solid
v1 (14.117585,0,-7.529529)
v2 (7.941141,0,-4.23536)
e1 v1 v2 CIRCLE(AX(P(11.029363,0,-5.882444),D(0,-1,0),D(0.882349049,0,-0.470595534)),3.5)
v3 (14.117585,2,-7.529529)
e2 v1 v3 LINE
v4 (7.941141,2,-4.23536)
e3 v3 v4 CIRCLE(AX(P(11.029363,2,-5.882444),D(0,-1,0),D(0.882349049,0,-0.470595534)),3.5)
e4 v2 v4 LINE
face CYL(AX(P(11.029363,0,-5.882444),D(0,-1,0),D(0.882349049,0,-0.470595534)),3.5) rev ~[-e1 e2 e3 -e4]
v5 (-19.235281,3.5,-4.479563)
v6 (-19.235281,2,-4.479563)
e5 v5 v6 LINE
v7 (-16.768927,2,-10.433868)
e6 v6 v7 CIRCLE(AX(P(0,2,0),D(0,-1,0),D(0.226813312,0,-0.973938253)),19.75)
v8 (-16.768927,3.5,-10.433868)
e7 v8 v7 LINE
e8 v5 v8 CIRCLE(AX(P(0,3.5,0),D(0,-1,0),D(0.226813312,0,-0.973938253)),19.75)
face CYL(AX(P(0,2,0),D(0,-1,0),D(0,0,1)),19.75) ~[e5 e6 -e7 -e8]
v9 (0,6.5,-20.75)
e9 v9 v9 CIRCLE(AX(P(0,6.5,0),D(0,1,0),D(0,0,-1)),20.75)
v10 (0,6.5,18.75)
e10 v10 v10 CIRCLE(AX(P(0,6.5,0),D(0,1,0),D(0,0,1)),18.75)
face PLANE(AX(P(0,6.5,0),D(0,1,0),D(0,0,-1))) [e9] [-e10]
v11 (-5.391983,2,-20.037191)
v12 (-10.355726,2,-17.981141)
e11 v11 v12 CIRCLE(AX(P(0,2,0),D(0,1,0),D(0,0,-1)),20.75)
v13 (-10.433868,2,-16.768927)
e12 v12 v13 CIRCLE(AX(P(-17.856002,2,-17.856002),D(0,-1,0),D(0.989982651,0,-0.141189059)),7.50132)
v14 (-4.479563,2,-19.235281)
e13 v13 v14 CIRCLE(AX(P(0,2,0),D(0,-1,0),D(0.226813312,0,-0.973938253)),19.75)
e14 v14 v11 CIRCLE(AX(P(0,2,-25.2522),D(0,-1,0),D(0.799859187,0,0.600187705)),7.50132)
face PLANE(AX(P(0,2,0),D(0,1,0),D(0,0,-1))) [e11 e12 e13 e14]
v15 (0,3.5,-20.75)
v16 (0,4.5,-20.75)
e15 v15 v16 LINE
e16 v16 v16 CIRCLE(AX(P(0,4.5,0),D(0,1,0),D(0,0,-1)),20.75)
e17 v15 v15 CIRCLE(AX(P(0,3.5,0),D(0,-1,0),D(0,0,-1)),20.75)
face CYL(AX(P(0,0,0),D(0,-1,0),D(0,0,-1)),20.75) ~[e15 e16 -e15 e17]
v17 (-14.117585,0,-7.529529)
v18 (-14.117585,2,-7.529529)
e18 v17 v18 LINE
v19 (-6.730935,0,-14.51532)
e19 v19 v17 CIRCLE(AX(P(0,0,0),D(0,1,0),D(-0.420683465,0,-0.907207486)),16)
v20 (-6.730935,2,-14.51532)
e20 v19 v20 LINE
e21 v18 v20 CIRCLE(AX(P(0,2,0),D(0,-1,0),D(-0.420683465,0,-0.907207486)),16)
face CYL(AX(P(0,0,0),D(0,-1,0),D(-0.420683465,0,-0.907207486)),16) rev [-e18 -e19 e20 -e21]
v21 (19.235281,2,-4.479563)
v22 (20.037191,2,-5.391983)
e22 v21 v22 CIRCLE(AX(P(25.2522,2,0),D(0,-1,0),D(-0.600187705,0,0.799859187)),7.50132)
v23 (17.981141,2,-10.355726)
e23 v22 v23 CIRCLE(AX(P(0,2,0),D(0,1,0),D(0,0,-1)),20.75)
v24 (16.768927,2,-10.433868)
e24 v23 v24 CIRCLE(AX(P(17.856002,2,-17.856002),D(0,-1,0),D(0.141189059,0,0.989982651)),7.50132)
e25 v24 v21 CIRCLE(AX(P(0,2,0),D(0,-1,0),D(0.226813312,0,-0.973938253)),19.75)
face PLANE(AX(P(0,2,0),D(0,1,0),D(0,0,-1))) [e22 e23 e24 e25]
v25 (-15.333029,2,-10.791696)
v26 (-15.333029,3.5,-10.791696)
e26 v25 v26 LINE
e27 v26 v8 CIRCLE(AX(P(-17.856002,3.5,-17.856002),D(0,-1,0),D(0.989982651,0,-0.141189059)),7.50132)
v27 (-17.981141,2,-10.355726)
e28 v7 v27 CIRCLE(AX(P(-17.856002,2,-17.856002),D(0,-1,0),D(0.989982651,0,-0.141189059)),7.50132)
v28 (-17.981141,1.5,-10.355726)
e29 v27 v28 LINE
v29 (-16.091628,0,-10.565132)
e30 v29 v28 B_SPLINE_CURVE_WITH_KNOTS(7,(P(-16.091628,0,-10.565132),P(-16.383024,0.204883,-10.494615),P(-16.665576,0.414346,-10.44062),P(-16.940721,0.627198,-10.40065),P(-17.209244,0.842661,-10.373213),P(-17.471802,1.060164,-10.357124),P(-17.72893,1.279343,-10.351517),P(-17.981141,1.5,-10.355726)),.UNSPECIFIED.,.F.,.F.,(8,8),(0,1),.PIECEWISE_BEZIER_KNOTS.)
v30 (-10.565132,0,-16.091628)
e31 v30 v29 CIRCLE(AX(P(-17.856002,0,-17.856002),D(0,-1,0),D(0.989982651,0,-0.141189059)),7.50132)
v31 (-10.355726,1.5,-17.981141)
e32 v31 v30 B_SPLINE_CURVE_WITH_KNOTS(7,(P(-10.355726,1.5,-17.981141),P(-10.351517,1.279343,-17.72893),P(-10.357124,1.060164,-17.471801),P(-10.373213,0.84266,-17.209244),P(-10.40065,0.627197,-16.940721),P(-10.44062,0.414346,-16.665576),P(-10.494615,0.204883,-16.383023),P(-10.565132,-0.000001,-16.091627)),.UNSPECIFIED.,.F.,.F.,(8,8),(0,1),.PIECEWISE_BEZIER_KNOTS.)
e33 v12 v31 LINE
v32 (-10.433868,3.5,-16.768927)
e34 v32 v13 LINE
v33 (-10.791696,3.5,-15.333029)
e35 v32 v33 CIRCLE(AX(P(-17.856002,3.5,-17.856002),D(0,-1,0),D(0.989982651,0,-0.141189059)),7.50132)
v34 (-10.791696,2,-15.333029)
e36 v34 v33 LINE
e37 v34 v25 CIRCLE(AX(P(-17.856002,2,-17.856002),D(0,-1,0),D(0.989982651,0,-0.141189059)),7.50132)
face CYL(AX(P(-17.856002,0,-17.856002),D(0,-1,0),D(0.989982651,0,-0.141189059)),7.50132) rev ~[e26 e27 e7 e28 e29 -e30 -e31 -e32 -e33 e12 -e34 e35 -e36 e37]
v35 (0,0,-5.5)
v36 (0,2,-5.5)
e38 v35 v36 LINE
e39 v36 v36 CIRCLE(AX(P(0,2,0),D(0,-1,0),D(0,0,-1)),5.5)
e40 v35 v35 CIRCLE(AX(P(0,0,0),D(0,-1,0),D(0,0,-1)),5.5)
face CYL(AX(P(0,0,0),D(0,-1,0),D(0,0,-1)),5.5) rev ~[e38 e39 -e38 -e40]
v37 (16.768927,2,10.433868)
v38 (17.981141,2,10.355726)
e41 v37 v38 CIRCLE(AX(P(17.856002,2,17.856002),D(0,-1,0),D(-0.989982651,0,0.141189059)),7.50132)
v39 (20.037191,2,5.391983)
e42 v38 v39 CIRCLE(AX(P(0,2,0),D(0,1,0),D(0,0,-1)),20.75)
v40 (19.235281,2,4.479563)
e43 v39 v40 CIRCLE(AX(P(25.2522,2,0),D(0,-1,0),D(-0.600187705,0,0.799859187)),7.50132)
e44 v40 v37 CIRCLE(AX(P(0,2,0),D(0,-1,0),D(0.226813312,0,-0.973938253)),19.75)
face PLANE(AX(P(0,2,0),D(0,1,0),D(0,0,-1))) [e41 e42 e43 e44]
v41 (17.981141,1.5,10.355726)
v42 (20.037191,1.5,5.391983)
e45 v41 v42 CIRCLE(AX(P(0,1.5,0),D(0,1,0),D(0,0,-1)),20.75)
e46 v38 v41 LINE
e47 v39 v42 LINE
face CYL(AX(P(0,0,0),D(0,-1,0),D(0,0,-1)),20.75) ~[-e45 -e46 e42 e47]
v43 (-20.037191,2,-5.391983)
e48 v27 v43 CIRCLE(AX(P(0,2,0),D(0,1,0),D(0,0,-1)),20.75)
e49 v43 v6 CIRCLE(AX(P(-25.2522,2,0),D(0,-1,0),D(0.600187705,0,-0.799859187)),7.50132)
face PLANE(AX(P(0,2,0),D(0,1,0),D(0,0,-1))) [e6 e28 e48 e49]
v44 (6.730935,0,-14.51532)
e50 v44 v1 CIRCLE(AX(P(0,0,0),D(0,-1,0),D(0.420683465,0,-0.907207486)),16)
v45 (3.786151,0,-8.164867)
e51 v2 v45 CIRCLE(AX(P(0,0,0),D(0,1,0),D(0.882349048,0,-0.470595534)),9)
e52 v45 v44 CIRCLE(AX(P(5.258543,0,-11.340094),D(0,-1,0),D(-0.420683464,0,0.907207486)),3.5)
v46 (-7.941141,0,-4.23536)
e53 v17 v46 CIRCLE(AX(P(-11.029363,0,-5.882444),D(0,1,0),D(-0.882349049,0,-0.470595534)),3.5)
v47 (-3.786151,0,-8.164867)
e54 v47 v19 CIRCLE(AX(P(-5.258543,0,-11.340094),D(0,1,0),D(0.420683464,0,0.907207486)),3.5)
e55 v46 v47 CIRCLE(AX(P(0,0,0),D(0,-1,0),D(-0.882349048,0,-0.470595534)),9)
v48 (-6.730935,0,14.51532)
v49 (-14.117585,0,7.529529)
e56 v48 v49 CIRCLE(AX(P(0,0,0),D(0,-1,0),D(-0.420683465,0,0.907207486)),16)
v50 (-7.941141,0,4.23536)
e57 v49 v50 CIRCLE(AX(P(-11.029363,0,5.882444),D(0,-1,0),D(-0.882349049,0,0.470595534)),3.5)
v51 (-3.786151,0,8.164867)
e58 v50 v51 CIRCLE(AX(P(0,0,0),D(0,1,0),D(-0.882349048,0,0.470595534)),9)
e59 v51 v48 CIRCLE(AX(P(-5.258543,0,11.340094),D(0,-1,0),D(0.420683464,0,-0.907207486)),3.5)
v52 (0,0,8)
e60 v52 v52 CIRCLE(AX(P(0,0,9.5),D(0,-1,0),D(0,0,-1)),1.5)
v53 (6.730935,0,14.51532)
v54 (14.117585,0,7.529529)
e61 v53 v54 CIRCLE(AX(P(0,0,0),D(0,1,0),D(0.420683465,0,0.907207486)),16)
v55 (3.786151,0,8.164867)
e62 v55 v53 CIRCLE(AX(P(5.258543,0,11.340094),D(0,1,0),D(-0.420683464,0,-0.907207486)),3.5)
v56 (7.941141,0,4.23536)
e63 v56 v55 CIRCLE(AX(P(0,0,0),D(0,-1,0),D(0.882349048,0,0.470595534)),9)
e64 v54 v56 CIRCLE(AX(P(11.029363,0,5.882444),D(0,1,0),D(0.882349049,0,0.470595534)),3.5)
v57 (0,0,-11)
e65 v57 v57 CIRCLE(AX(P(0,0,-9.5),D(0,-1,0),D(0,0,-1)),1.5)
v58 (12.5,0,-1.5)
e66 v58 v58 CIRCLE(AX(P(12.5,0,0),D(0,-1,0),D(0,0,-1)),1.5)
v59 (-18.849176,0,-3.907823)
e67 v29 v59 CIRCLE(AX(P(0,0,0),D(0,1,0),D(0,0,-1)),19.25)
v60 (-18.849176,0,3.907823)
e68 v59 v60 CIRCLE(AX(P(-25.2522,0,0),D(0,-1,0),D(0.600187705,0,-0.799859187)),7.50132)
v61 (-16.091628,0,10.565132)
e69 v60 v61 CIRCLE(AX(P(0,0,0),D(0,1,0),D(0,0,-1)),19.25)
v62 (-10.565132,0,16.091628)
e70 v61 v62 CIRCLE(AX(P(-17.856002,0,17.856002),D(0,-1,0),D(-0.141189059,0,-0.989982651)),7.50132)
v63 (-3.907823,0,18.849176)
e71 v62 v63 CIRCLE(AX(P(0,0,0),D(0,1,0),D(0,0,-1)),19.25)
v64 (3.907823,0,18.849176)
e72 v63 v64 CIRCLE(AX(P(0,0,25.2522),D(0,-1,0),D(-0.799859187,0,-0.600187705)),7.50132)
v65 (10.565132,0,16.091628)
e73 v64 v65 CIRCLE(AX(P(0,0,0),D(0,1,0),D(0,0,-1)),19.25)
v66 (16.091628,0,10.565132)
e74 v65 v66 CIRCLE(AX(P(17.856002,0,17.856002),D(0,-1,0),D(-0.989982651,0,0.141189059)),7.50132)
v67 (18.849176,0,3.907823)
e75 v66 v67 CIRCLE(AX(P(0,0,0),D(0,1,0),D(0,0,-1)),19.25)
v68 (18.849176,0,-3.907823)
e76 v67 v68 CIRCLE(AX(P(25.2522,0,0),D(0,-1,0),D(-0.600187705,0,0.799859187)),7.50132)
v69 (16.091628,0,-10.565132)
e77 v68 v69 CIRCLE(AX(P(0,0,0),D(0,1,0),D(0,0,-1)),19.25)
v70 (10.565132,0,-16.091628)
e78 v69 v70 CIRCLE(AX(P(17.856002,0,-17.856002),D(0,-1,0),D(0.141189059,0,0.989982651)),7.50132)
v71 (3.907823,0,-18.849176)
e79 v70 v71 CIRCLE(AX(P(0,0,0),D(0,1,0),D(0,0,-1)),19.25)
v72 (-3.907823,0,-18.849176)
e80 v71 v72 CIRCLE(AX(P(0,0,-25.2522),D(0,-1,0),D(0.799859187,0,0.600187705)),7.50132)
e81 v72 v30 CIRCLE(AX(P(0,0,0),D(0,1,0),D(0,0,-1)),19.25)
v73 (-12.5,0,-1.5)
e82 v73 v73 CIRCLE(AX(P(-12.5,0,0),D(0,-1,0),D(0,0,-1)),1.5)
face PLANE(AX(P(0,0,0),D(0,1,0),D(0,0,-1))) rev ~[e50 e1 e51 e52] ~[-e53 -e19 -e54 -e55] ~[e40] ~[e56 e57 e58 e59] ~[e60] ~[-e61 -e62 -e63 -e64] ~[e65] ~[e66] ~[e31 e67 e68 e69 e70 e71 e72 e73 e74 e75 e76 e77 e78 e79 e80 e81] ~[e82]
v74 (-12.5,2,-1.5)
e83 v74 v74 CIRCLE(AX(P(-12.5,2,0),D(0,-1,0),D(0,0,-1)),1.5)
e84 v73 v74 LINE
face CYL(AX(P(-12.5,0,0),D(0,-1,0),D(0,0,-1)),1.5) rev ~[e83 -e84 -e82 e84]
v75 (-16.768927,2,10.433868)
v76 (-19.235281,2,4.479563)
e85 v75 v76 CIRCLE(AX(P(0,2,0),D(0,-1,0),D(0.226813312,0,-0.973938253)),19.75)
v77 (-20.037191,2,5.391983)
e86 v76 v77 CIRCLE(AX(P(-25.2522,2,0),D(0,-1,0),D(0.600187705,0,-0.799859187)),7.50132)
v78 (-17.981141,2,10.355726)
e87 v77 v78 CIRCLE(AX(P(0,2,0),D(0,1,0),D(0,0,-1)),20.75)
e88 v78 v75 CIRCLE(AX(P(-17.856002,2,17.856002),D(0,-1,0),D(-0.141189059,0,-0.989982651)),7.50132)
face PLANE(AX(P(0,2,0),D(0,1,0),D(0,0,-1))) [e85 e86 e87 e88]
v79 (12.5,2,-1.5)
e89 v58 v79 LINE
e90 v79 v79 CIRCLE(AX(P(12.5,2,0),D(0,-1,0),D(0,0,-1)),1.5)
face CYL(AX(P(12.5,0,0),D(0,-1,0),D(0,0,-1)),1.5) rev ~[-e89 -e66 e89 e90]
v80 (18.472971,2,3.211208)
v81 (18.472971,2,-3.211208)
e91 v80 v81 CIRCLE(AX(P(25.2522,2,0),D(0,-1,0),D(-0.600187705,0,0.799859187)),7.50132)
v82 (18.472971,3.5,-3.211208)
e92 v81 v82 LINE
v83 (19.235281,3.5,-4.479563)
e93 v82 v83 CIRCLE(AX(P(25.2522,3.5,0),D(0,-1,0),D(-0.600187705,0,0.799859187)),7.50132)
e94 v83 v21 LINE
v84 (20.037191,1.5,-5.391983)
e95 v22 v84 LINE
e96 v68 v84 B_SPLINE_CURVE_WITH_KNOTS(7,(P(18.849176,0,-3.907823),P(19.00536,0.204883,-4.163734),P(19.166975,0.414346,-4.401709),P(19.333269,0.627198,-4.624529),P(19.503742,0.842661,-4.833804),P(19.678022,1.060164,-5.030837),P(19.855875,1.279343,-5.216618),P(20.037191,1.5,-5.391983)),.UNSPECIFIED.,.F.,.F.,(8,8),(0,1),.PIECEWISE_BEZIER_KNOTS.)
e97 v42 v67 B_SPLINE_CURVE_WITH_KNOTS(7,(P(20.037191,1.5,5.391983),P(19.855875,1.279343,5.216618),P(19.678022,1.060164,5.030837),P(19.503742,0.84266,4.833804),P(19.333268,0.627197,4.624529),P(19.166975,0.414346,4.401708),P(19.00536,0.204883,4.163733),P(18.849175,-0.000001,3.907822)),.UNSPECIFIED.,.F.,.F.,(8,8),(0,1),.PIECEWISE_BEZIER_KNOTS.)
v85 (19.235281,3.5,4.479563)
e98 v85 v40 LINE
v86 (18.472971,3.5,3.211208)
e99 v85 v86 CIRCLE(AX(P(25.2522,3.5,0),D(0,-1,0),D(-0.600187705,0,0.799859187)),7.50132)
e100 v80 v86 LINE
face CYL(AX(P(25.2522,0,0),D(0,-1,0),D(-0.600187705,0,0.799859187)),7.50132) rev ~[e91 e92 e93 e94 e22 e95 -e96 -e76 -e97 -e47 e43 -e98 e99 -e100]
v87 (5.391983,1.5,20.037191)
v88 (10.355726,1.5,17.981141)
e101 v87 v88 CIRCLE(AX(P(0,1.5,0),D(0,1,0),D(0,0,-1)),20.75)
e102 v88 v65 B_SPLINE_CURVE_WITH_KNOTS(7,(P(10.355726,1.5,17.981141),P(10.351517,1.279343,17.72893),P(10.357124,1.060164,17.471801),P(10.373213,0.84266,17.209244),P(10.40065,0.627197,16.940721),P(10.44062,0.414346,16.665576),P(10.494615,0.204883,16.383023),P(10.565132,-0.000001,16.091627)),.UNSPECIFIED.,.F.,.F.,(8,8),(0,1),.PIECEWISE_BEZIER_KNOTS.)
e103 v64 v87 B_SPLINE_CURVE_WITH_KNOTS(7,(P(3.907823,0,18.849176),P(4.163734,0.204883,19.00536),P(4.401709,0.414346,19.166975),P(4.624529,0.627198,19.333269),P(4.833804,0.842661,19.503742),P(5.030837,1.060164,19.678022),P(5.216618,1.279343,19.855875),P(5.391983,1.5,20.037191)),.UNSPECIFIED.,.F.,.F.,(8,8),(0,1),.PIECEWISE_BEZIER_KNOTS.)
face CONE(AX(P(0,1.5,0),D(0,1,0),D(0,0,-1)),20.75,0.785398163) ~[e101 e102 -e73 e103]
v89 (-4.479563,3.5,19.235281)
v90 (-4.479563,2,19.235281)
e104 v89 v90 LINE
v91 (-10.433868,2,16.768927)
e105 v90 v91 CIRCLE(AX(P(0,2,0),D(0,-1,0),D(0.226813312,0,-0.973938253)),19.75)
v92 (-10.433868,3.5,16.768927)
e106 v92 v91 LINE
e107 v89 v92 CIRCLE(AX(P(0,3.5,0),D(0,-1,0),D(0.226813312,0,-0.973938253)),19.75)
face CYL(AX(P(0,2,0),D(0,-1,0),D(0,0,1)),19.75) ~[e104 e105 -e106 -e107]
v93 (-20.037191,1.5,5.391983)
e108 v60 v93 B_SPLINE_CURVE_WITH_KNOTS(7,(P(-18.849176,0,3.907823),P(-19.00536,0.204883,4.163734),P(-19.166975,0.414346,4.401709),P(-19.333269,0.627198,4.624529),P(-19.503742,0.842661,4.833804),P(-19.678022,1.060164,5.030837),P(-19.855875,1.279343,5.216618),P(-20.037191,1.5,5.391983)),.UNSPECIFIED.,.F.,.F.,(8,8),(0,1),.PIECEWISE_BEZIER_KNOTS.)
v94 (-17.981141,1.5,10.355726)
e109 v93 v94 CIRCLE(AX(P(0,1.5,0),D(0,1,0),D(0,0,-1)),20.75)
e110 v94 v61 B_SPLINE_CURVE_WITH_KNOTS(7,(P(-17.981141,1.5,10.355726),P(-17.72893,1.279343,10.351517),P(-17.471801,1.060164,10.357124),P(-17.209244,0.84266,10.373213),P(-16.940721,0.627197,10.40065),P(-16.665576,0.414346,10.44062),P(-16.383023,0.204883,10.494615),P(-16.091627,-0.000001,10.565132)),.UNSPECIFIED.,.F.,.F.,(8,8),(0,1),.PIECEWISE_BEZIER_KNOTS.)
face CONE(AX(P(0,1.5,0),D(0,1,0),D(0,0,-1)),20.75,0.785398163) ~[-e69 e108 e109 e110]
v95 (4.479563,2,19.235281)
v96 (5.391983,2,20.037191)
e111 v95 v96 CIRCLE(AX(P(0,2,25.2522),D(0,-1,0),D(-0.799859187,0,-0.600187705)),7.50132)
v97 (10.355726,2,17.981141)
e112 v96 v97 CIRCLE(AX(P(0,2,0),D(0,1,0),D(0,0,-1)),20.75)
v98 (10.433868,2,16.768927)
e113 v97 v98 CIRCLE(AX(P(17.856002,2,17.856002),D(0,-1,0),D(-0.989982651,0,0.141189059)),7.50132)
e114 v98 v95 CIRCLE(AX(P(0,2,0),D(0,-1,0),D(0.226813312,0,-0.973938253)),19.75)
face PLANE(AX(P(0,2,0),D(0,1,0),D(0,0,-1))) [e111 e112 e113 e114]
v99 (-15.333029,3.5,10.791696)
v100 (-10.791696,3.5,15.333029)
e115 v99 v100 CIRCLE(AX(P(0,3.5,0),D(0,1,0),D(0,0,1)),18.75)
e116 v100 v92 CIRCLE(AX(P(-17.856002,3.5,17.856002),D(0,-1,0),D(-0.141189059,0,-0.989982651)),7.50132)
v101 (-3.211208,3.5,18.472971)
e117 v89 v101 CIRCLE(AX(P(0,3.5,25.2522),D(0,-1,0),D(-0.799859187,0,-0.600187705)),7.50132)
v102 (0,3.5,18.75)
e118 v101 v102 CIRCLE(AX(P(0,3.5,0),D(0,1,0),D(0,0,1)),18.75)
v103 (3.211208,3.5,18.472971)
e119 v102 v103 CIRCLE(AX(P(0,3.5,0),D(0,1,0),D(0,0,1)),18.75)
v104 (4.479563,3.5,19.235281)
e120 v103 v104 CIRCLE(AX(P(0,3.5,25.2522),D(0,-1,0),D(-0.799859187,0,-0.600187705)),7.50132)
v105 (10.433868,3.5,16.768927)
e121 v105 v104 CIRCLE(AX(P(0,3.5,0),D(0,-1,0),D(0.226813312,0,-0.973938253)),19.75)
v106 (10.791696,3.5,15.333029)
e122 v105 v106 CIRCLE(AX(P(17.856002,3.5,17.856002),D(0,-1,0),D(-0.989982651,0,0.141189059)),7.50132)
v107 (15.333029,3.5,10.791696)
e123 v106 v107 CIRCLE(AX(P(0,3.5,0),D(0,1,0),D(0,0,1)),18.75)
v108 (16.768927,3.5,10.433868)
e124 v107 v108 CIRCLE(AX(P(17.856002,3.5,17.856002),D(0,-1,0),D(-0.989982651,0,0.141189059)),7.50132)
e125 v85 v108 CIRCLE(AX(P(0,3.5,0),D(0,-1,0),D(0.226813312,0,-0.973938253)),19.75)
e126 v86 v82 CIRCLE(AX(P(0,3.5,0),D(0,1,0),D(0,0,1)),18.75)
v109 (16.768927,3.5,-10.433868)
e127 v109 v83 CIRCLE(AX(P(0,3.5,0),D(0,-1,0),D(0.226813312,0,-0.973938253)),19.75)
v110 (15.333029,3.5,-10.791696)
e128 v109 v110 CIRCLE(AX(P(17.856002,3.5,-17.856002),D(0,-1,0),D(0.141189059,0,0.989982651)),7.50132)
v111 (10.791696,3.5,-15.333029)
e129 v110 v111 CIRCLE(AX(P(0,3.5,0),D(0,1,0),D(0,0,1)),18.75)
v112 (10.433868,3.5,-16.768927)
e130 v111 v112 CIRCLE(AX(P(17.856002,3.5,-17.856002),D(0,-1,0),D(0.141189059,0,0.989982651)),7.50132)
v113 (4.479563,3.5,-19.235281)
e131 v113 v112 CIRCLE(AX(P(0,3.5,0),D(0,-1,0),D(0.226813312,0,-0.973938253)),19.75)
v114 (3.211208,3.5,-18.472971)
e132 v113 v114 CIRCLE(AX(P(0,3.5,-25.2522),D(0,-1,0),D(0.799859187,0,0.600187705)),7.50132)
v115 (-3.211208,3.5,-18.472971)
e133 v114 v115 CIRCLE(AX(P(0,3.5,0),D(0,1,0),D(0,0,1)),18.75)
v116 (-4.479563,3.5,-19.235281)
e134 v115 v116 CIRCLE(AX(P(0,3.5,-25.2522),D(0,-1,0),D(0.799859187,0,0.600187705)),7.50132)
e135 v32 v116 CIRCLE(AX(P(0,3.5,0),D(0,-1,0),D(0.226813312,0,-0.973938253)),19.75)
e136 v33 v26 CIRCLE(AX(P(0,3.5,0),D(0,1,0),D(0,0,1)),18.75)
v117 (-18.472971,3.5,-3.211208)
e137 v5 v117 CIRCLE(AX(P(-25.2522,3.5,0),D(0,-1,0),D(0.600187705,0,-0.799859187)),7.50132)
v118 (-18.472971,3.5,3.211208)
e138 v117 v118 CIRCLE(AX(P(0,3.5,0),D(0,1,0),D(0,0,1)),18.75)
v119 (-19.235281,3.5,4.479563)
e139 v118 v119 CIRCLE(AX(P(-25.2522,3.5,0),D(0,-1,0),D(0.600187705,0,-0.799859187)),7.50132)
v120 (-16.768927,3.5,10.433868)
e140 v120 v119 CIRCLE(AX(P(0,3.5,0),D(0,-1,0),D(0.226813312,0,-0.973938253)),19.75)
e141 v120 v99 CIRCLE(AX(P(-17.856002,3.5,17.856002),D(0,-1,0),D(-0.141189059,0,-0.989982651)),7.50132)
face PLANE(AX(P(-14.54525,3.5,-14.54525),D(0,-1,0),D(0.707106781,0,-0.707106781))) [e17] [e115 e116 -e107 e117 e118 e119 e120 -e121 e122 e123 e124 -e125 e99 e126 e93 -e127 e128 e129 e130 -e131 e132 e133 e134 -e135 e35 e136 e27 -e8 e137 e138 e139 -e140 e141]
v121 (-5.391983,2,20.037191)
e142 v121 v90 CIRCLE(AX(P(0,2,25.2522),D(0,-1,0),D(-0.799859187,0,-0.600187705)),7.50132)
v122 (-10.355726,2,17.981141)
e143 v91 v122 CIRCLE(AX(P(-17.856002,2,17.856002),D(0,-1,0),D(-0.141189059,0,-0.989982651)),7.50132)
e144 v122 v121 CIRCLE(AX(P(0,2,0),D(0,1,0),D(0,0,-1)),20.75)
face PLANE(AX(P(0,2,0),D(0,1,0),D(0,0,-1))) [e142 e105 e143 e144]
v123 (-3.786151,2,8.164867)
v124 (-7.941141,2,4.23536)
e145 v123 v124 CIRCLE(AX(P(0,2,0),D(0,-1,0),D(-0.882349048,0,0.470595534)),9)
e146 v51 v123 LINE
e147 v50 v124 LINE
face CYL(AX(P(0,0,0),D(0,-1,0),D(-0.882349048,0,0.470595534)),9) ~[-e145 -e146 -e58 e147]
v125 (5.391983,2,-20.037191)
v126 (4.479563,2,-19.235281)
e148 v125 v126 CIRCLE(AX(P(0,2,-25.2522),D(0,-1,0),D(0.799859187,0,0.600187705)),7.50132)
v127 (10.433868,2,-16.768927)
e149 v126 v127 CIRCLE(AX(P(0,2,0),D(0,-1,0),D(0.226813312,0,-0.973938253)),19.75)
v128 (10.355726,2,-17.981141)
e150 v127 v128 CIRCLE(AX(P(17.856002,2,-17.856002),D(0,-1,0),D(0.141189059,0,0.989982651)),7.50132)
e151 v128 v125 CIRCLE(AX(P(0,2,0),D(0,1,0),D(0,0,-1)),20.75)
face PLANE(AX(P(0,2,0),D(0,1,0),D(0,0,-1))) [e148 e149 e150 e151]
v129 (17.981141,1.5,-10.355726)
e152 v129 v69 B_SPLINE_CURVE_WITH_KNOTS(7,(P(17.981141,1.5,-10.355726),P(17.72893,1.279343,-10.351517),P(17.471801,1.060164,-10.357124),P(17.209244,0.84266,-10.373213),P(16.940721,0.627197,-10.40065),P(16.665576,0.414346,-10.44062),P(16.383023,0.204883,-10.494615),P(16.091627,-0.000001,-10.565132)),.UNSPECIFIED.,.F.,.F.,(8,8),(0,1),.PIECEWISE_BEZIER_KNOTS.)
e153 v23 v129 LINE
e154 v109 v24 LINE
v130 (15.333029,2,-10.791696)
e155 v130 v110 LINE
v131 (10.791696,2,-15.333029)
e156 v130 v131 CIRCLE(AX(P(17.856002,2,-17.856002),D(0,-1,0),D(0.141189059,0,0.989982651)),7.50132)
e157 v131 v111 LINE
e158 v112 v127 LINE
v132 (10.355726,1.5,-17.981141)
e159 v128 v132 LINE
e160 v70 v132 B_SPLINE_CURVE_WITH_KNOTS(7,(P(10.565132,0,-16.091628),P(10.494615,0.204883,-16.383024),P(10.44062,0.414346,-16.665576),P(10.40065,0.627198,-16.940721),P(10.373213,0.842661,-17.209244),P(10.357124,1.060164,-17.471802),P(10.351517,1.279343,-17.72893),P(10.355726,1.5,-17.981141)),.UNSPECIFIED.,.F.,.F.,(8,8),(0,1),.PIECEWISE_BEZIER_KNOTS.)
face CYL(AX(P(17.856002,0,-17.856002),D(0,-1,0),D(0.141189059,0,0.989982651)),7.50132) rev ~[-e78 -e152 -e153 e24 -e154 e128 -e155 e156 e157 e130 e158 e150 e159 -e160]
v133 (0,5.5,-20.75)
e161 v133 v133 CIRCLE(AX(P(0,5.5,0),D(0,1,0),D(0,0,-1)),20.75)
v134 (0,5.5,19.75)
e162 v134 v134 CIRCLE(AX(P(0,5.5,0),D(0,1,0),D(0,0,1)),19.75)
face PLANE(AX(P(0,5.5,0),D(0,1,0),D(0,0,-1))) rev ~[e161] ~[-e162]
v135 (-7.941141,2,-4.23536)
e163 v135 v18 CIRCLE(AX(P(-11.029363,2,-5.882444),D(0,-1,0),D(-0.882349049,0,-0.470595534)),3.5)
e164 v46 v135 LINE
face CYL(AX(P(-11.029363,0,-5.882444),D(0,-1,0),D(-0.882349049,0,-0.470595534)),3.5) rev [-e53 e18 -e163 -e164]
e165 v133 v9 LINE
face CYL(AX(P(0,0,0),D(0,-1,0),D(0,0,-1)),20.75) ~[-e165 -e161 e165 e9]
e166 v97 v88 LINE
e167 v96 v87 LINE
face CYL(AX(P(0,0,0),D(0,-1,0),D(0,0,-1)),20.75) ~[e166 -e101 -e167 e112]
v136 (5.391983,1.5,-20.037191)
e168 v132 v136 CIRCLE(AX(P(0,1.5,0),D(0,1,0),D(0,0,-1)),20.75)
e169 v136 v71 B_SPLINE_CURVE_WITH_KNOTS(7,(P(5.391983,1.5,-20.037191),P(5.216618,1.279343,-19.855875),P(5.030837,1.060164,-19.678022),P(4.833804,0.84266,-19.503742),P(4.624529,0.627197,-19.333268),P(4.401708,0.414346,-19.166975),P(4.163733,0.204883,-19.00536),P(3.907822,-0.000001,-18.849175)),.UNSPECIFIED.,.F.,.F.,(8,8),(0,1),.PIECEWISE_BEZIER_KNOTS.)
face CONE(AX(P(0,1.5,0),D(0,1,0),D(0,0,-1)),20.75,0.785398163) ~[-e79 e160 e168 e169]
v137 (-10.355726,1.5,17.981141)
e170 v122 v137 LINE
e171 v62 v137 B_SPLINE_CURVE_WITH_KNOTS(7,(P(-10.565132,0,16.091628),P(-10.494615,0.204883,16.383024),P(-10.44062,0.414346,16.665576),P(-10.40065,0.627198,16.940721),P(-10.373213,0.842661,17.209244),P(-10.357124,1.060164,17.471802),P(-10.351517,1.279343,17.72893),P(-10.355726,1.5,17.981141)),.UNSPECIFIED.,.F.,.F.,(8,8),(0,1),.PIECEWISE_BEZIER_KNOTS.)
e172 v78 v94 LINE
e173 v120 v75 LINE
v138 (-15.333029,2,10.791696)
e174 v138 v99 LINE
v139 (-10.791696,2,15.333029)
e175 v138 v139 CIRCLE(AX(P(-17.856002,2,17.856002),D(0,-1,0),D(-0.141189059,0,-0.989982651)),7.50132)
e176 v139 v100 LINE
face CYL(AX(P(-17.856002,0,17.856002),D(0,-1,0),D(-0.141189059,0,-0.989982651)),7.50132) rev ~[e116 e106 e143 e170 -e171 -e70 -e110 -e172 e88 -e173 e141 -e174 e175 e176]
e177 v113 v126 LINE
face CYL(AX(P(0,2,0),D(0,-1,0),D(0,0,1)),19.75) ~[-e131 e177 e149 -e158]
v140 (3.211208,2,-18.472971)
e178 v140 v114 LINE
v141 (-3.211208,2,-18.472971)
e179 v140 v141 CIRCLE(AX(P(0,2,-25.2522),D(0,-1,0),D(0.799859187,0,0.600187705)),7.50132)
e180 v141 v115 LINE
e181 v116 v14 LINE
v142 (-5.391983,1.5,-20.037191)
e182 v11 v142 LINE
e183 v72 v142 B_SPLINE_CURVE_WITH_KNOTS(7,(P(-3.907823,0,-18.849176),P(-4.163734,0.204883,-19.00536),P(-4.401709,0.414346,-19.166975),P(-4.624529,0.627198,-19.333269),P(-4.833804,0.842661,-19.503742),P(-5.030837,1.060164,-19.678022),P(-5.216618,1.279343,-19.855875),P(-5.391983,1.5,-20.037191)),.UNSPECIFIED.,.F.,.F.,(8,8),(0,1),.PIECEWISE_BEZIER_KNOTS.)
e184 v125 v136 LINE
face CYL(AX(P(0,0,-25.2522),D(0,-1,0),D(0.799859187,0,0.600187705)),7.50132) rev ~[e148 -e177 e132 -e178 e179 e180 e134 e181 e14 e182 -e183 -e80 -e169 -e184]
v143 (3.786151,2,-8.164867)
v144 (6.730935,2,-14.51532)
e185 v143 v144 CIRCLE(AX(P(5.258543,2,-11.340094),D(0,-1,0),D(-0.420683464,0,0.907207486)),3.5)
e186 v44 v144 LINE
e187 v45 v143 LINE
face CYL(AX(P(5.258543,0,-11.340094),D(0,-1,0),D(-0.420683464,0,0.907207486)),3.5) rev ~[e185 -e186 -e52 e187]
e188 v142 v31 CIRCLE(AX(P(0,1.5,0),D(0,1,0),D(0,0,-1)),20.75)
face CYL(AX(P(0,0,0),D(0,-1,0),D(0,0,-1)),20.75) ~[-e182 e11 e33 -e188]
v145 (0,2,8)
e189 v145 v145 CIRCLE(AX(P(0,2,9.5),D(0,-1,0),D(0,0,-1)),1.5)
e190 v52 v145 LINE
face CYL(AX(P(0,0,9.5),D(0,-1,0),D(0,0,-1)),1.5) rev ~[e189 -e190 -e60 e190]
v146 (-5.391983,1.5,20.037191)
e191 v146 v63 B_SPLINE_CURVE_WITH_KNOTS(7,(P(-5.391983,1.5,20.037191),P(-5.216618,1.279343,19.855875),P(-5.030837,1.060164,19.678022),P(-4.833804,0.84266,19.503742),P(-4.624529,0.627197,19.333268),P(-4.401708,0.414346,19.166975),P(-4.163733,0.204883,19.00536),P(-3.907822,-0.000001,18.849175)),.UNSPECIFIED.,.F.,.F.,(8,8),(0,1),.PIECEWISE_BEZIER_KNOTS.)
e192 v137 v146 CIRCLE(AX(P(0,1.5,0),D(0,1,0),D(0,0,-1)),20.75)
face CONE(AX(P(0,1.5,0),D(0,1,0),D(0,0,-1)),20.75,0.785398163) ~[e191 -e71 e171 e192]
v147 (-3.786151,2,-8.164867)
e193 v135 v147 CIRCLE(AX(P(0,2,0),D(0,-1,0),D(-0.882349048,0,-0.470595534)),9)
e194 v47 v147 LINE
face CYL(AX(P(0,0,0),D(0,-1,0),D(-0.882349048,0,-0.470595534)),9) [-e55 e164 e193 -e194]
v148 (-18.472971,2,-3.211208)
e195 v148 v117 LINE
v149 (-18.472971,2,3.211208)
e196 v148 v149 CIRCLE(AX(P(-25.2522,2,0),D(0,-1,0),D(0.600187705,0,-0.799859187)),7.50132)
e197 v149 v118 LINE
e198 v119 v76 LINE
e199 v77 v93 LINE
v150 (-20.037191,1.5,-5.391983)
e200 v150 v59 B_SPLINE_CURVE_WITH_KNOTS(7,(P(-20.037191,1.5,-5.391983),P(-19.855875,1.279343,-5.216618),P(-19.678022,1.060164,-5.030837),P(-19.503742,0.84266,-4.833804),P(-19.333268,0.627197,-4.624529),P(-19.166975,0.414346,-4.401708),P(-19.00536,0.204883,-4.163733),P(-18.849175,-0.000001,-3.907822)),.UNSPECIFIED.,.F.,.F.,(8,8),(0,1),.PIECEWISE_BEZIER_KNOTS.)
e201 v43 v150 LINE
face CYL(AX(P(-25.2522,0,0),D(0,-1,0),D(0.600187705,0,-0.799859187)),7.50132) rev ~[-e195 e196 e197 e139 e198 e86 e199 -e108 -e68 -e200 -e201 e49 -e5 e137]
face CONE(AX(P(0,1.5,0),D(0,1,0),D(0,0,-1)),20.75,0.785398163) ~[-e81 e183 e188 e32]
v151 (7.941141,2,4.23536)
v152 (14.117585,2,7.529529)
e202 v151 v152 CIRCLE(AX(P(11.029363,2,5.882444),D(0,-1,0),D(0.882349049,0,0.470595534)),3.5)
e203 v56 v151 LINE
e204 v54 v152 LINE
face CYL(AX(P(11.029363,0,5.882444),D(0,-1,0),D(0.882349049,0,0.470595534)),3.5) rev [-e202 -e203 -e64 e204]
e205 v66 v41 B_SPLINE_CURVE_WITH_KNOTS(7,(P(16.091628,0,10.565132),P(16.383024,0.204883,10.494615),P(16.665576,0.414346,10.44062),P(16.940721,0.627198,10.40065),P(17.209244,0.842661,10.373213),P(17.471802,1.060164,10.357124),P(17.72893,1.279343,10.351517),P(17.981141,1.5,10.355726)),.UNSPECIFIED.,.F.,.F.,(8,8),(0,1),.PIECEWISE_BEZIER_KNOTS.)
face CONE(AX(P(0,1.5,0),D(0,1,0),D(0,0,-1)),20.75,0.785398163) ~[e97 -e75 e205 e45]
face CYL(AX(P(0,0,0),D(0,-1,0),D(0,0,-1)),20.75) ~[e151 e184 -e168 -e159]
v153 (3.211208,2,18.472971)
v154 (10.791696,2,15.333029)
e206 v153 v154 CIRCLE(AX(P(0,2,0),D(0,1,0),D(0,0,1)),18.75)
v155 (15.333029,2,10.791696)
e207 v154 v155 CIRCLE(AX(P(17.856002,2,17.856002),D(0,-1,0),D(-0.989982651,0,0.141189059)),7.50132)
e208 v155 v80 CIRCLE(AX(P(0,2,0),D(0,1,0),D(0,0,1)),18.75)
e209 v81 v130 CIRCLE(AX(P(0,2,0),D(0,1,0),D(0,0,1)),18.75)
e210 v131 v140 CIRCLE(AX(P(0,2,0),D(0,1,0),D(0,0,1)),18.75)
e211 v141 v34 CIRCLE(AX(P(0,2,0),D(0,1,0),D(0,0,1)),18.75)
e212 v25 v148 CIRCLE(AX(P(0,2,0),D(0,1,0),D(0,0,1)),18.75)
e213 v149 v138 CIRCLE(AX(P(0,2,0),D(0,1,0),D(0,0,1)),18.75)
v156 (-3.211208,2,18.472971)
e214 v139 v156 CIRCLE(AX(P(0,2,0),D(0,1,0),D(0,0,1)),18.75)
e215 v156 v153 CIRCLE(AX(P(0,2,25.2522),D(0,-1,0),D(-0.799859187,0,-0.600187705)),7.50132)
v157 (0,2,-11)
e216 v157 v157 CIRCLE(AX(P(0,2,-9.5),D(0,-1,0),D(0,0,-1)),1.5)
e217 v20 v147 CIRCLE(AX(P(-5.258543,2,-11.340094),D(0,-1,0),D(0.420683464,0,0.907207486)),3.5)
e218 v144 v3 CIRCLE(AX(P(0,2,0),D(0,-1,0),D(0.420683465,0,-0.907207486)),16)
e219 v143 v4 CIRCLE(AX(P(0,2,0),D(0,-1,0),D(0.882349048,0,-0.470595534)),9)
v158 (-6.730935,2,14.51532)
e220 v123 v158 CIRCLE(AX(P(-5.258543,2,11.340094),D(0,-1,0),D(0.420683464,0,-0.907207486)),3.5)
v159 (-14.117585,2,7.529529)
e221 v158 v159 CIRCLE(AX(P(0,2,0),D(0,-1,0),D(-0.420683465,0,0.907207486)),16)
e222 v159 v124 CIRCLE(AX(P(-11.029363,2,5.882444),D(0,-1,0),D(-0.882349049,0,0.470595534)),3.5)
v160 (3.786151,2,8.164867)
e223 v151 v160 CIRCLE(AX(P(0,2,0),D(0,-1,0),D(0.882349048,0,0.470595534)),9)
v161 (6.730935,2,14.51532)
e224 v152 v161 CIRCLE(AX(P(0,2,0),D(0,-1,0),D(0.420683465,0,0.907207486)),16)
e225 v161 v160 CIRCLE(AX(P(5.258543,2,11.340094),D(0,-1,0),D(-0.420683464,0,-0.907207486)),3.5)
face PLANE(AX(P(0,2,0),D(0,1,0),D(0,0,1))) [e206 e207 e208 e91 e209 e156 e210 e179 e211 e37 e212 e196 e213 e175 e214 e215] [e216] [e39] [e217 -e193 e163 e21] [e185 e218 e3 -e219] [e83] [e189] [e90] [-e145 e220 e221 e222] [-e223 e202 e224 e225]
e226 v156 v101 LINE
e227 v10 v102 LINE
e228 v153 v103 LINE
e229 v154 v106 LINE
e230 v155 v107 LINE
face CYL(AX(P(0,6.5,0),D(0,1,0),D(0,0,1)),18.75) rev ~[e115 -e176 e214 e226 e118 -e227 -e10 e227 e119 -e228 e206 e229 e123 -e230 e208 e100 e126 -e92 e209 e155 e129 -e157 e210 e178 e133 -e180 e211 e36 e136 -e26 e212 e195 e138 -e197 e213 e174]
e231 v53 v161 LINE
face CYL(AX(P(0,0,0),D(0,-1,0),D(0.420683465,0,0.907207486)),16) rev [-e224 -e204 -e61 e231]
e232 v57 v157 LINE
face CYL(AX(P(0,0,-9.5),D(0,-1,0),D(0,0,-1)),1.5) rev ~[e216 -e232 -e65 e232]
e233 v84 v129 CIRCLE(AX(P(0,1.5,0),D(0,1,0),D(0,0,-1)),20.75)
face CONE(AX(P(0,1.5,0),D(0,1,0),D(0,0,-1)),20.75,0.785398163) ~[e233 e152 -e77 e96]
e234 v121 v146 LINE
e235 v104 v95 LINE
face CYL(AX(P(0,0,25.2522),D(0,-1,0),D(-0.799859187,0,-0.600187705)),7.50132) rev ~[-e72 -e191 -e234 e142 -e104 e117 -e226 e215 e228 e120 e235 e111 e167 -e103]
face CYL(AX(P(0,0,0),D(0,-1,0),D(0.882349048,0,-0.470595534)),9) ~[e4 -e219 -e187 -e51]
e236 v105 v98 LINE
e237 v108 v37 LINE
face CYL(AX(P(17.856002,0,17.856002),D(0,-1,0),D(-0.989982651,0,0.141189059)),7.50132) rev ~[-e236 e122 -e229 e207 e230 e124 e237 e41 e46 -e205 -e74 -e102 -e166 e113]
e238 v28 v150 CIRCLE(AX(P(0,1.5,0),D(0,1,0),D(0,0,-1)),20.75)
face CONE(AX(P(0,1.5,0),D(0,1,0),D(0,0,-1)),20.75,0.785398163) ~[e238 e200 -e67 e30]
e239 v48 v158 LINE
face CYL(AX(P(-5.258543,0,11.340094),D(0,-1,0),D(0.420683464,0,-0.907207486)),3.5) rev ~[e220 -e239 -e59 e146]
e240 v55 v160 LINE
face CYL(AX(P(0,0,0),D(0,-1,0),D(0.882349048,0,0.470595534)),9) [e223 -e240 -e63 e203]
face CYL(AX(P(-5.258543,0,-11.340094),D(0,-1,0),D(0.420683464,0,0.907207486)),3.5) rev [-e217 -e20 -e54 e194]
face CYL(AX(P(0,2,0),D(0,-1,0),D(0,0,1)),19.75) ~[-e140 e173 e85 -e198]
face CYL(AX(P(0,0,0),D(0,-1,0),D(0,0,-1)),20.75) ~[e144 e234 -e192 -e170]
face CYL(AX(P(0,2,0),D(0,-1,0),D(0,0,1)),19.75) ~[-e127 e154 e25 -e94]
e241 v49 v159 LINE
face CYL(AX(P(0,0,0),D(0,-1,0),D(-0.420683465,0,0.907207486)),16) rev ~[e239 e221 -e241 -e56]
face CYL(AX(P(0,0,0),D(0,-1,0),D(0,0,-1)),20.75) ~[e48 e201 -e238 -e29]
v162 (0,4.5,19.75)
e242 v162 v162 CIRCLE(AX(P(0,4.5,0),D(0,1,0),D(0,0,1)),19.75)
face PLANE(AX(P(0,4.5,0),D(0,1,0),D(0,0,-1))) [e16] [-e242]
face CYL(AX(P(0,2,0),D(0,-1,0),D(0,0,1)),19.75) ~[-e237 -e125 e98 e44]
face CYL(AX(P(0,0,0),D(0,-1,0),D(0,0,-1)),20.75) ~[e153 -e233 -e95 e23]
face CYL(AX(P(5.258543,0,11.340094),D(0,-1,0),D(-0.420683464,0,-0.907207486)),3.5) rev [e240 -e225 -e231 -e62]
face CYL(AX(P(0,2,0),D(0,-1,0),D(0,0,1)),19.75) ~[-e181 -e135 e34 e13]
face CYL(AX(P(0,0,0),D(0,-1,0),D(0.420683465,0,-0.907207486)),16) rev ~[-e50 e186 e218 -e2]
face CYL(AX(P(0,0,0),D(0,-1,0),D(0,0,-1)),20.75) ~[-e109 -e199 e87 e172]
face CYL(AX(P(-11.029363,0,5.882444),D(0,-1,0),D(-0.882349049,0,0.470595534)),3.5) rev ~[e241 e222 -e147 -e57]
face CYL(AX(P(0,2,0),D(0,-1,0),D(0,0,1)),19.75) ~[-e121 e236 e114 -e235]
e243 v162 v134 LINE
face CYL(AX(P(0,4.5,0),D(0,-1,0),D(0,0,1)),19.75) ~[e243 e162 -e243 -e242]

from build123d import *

# Parameters (mm, degrees)
SKETCH1_R           = 20.75
BOSS_EXTRUDE1_DEPTH = 6.5
CUT_EXTRUDE1_START  = -1
SKETCH2_R           = 20.75
SKETCH2_R_2         = 19.75
CUT_EXTRUDE1_DEPTH  = 1
CUT_EXTRUDE2_START  = -1.5
SKETCH3_R           = 20.75
SKETCH3_R_2         = 19.75
CUT_EXTRUDE2_DEPTH  = 1.5
CHAMFER1_SIZE       = 1.5
SKETCH4_R           = 18.75
CUT_EXTRUDE3_DEPTH  = 4.5
CUT_EXTRUDE4_DEPTH  = 3.5
CIRPATTERN1_COUNT   = 8
SKETCH6_R           = 1.5
SKETCH6_R_2         = 5.5
CUT_EXTRUDE5_DEPTH  = 3.5


with BuildPart() as part:
    # Sketch1 → Boss-Extrude1 (new body)
    with BuildSketch(Plane(origin=(0, 0, 0), x_dir=(1, 0, 0), z_dir=(0, 1, 0))):
        Circle(SKETCH1_R)
    extrude(amount=BOSS_EXTRUDE1_DEPTH)

    # Sketch2 → Cut-Extrude1 (cut)
    with BuildSketch(Plane(origin=(0, 5.5, 0), x_dir=(1, 0, 0), z_dir=(0, 1, 0)).offset(CUT_EXTRUDE1_START)):
        Circle(SKETCH2_R)
        Circle(SKETCH2_R_2, mode=Mode.SUBTRACT)
    extrude(amount=CUT_EXTRUDE1_DEPTH, mode=Mode.SUBTRACT)

    # Sketch3 → Cut-Extrude2 (cut)
    with BuildSketch(Plane(origin=(0, 3.5, 0), x_dir=(1, 0, 0), z_dir=(0, 1, 0)).offset(CUT_EXTRUDE2_START)):
        Circle(SKETCH3_R)
        Circle(SKETCH3_R_2, mode=Mode.SUBTRACT)
    extrude(amount=CUT_EXTRUDE2_DEPTH, mode=Mode.SUBTRACT)

    # Chamfer1
    chamfer1_edges = [part.edges().sort_by_distance(p)[0] for p in [
        (-20.75, 0, 0),
    ]]
    chamfer(chamfer1_edges, length=CHAMFER1_SIZE)

    # Sketch4 → Cut-Extrude3 (cut)
    with BuildSketch(Plane(origin=(0, 6.5, 0), x_dir=(1, 0, 0), z_dir=(0, 1, 0))):
        Circle(SKETCH4_R)
    extrude(amount=-CUT_EXTRUDE3_DEPTH, mode=Mode.SUBTRACT)

    # Sketch5 → Cut-Extrude4 (cut)
    with BuildSketch(Plane.XZ):
        with BuildLine():
            ThreePointArc((6, -20.75), (0, -17.750879894), (-6, -20.75))
            ThreePointArc((-6, -20.75), (0, -23.235281374), (6, -20.75))
        make_face()
    cut_extrude4 = extrude(amount=-CUT_EXTRUDE4_DEPTH, mode=Mode.SUBTRACT)

    # CirPattern1: Cut-Extrude4 ×8 about axis
    cirpattern1_axis = Axis((0, 6.5, 0), (0, -1, 0))
    for i in range(1, CIRPATTERN1_COUNT):
        add(cut_extrude4.rotate(cirpattern1_axis, i * 360 / CIRPATTERN1_COUNT), mode=Mode.SUBTRACT)

    # Sketch6 → Cut-Extrude5 (cut)
    with BuildSketch(Plane(origin=(0, 0, 0), x_dir=(-1, 0, 0), z_dir=(0, -1, 0))):
        with Locations((0, 9.5)):
            Circle(SKETCH6_R)
        with Locations((-12.5, 0)):
            Circle(SKETCH6_R)
        with BuildLine():
            ThreePointArc((-14.117584779, 7.529528538), (-12.676447476, 2.7942225), (-7.941141438, 4.235359803))
            ThreePointArc((-7.941141438, 4.235359803), (-6.184060598, 6.538913863), (-3.786151182, 8.164867374))
            ThreePointArc((-3.786151182, 8.164867374), (-2.083317107, 12.812485701), (-6.730935434, 14.515319775))
            ThreePointArc((-6.730935434, 14.515319775), (-10.993885508, 11.624735757), (-14.117584779, 7.529528538))
        make_face()
        with Locations((12.5, 0)):
            Circle(SKETCH6_R)
        with Locations((0, -9.5)):
            Circle(SKETCH6_R)
        with BuildLine():
            ThreePointArc((7.941141438, 4.235359803), (12.676447476, 2.7942225), (14.117584779, 7.529528538))
            ThreePointArc((14.117584779, 7.529528538), (10.993885508, 11.624735757), (6.730935434, 14.515319775))
            ThreePointArc((6.730935434, 14.515319775), (2.083317107, 12.812485701), (3.786151182, 8.164867374))
            ThreePointArc((3.786151182, 8.164867374), (6.184060598, 6.538913863), (7.941141438, 4.235359803))
        make_face()
        with BuildLine():
            ThreePointArc((7.941141438, -4.235359803), (6.184060598, -6.538913863), (3.786151182, -8.164867374))
            ThreePointArc((3.786151182, -8.164867374), (2.083317107, -12.812485701), (6.730935434, -14.515319775))
            ThreePointArc((6.730935434, -14.515319775), (10.993885508, -11.624735757), (14.117584779, -7.529528538))
            ThreePointArc((14.117584779, -7.529528538), (12.676447476, -2.7942225), (7.941141438, -4.235359803))
        make_face()
        with BuildLine():
            ThreePointArc((-6.730935434, -14.515319775), (-2.083317107, -12.812485701), (-3.786151182, -8.164867374))
            ThreePointArc((-3.786151182, -8.164867374), (-6.184060598, -6.538913863), (-7.941141438, -4.235359803))
            ThreePointArc((-7.941141438, -4.235359803), (-12.676447476, -2.7942225), (-14.117584779, -7.529528538))
            ThreePointArc((-14.117584779, -7.529528538), (-10.993885508, -11.624735757), (-6.730935434, -14.515319775))
        make_face()
        Circle(SKETCH6_R_2)
    extrude(amount=-CUT_EXTRUDE5_DEPTH, mode=Mode.SUBTRACT)


solid = part.part
